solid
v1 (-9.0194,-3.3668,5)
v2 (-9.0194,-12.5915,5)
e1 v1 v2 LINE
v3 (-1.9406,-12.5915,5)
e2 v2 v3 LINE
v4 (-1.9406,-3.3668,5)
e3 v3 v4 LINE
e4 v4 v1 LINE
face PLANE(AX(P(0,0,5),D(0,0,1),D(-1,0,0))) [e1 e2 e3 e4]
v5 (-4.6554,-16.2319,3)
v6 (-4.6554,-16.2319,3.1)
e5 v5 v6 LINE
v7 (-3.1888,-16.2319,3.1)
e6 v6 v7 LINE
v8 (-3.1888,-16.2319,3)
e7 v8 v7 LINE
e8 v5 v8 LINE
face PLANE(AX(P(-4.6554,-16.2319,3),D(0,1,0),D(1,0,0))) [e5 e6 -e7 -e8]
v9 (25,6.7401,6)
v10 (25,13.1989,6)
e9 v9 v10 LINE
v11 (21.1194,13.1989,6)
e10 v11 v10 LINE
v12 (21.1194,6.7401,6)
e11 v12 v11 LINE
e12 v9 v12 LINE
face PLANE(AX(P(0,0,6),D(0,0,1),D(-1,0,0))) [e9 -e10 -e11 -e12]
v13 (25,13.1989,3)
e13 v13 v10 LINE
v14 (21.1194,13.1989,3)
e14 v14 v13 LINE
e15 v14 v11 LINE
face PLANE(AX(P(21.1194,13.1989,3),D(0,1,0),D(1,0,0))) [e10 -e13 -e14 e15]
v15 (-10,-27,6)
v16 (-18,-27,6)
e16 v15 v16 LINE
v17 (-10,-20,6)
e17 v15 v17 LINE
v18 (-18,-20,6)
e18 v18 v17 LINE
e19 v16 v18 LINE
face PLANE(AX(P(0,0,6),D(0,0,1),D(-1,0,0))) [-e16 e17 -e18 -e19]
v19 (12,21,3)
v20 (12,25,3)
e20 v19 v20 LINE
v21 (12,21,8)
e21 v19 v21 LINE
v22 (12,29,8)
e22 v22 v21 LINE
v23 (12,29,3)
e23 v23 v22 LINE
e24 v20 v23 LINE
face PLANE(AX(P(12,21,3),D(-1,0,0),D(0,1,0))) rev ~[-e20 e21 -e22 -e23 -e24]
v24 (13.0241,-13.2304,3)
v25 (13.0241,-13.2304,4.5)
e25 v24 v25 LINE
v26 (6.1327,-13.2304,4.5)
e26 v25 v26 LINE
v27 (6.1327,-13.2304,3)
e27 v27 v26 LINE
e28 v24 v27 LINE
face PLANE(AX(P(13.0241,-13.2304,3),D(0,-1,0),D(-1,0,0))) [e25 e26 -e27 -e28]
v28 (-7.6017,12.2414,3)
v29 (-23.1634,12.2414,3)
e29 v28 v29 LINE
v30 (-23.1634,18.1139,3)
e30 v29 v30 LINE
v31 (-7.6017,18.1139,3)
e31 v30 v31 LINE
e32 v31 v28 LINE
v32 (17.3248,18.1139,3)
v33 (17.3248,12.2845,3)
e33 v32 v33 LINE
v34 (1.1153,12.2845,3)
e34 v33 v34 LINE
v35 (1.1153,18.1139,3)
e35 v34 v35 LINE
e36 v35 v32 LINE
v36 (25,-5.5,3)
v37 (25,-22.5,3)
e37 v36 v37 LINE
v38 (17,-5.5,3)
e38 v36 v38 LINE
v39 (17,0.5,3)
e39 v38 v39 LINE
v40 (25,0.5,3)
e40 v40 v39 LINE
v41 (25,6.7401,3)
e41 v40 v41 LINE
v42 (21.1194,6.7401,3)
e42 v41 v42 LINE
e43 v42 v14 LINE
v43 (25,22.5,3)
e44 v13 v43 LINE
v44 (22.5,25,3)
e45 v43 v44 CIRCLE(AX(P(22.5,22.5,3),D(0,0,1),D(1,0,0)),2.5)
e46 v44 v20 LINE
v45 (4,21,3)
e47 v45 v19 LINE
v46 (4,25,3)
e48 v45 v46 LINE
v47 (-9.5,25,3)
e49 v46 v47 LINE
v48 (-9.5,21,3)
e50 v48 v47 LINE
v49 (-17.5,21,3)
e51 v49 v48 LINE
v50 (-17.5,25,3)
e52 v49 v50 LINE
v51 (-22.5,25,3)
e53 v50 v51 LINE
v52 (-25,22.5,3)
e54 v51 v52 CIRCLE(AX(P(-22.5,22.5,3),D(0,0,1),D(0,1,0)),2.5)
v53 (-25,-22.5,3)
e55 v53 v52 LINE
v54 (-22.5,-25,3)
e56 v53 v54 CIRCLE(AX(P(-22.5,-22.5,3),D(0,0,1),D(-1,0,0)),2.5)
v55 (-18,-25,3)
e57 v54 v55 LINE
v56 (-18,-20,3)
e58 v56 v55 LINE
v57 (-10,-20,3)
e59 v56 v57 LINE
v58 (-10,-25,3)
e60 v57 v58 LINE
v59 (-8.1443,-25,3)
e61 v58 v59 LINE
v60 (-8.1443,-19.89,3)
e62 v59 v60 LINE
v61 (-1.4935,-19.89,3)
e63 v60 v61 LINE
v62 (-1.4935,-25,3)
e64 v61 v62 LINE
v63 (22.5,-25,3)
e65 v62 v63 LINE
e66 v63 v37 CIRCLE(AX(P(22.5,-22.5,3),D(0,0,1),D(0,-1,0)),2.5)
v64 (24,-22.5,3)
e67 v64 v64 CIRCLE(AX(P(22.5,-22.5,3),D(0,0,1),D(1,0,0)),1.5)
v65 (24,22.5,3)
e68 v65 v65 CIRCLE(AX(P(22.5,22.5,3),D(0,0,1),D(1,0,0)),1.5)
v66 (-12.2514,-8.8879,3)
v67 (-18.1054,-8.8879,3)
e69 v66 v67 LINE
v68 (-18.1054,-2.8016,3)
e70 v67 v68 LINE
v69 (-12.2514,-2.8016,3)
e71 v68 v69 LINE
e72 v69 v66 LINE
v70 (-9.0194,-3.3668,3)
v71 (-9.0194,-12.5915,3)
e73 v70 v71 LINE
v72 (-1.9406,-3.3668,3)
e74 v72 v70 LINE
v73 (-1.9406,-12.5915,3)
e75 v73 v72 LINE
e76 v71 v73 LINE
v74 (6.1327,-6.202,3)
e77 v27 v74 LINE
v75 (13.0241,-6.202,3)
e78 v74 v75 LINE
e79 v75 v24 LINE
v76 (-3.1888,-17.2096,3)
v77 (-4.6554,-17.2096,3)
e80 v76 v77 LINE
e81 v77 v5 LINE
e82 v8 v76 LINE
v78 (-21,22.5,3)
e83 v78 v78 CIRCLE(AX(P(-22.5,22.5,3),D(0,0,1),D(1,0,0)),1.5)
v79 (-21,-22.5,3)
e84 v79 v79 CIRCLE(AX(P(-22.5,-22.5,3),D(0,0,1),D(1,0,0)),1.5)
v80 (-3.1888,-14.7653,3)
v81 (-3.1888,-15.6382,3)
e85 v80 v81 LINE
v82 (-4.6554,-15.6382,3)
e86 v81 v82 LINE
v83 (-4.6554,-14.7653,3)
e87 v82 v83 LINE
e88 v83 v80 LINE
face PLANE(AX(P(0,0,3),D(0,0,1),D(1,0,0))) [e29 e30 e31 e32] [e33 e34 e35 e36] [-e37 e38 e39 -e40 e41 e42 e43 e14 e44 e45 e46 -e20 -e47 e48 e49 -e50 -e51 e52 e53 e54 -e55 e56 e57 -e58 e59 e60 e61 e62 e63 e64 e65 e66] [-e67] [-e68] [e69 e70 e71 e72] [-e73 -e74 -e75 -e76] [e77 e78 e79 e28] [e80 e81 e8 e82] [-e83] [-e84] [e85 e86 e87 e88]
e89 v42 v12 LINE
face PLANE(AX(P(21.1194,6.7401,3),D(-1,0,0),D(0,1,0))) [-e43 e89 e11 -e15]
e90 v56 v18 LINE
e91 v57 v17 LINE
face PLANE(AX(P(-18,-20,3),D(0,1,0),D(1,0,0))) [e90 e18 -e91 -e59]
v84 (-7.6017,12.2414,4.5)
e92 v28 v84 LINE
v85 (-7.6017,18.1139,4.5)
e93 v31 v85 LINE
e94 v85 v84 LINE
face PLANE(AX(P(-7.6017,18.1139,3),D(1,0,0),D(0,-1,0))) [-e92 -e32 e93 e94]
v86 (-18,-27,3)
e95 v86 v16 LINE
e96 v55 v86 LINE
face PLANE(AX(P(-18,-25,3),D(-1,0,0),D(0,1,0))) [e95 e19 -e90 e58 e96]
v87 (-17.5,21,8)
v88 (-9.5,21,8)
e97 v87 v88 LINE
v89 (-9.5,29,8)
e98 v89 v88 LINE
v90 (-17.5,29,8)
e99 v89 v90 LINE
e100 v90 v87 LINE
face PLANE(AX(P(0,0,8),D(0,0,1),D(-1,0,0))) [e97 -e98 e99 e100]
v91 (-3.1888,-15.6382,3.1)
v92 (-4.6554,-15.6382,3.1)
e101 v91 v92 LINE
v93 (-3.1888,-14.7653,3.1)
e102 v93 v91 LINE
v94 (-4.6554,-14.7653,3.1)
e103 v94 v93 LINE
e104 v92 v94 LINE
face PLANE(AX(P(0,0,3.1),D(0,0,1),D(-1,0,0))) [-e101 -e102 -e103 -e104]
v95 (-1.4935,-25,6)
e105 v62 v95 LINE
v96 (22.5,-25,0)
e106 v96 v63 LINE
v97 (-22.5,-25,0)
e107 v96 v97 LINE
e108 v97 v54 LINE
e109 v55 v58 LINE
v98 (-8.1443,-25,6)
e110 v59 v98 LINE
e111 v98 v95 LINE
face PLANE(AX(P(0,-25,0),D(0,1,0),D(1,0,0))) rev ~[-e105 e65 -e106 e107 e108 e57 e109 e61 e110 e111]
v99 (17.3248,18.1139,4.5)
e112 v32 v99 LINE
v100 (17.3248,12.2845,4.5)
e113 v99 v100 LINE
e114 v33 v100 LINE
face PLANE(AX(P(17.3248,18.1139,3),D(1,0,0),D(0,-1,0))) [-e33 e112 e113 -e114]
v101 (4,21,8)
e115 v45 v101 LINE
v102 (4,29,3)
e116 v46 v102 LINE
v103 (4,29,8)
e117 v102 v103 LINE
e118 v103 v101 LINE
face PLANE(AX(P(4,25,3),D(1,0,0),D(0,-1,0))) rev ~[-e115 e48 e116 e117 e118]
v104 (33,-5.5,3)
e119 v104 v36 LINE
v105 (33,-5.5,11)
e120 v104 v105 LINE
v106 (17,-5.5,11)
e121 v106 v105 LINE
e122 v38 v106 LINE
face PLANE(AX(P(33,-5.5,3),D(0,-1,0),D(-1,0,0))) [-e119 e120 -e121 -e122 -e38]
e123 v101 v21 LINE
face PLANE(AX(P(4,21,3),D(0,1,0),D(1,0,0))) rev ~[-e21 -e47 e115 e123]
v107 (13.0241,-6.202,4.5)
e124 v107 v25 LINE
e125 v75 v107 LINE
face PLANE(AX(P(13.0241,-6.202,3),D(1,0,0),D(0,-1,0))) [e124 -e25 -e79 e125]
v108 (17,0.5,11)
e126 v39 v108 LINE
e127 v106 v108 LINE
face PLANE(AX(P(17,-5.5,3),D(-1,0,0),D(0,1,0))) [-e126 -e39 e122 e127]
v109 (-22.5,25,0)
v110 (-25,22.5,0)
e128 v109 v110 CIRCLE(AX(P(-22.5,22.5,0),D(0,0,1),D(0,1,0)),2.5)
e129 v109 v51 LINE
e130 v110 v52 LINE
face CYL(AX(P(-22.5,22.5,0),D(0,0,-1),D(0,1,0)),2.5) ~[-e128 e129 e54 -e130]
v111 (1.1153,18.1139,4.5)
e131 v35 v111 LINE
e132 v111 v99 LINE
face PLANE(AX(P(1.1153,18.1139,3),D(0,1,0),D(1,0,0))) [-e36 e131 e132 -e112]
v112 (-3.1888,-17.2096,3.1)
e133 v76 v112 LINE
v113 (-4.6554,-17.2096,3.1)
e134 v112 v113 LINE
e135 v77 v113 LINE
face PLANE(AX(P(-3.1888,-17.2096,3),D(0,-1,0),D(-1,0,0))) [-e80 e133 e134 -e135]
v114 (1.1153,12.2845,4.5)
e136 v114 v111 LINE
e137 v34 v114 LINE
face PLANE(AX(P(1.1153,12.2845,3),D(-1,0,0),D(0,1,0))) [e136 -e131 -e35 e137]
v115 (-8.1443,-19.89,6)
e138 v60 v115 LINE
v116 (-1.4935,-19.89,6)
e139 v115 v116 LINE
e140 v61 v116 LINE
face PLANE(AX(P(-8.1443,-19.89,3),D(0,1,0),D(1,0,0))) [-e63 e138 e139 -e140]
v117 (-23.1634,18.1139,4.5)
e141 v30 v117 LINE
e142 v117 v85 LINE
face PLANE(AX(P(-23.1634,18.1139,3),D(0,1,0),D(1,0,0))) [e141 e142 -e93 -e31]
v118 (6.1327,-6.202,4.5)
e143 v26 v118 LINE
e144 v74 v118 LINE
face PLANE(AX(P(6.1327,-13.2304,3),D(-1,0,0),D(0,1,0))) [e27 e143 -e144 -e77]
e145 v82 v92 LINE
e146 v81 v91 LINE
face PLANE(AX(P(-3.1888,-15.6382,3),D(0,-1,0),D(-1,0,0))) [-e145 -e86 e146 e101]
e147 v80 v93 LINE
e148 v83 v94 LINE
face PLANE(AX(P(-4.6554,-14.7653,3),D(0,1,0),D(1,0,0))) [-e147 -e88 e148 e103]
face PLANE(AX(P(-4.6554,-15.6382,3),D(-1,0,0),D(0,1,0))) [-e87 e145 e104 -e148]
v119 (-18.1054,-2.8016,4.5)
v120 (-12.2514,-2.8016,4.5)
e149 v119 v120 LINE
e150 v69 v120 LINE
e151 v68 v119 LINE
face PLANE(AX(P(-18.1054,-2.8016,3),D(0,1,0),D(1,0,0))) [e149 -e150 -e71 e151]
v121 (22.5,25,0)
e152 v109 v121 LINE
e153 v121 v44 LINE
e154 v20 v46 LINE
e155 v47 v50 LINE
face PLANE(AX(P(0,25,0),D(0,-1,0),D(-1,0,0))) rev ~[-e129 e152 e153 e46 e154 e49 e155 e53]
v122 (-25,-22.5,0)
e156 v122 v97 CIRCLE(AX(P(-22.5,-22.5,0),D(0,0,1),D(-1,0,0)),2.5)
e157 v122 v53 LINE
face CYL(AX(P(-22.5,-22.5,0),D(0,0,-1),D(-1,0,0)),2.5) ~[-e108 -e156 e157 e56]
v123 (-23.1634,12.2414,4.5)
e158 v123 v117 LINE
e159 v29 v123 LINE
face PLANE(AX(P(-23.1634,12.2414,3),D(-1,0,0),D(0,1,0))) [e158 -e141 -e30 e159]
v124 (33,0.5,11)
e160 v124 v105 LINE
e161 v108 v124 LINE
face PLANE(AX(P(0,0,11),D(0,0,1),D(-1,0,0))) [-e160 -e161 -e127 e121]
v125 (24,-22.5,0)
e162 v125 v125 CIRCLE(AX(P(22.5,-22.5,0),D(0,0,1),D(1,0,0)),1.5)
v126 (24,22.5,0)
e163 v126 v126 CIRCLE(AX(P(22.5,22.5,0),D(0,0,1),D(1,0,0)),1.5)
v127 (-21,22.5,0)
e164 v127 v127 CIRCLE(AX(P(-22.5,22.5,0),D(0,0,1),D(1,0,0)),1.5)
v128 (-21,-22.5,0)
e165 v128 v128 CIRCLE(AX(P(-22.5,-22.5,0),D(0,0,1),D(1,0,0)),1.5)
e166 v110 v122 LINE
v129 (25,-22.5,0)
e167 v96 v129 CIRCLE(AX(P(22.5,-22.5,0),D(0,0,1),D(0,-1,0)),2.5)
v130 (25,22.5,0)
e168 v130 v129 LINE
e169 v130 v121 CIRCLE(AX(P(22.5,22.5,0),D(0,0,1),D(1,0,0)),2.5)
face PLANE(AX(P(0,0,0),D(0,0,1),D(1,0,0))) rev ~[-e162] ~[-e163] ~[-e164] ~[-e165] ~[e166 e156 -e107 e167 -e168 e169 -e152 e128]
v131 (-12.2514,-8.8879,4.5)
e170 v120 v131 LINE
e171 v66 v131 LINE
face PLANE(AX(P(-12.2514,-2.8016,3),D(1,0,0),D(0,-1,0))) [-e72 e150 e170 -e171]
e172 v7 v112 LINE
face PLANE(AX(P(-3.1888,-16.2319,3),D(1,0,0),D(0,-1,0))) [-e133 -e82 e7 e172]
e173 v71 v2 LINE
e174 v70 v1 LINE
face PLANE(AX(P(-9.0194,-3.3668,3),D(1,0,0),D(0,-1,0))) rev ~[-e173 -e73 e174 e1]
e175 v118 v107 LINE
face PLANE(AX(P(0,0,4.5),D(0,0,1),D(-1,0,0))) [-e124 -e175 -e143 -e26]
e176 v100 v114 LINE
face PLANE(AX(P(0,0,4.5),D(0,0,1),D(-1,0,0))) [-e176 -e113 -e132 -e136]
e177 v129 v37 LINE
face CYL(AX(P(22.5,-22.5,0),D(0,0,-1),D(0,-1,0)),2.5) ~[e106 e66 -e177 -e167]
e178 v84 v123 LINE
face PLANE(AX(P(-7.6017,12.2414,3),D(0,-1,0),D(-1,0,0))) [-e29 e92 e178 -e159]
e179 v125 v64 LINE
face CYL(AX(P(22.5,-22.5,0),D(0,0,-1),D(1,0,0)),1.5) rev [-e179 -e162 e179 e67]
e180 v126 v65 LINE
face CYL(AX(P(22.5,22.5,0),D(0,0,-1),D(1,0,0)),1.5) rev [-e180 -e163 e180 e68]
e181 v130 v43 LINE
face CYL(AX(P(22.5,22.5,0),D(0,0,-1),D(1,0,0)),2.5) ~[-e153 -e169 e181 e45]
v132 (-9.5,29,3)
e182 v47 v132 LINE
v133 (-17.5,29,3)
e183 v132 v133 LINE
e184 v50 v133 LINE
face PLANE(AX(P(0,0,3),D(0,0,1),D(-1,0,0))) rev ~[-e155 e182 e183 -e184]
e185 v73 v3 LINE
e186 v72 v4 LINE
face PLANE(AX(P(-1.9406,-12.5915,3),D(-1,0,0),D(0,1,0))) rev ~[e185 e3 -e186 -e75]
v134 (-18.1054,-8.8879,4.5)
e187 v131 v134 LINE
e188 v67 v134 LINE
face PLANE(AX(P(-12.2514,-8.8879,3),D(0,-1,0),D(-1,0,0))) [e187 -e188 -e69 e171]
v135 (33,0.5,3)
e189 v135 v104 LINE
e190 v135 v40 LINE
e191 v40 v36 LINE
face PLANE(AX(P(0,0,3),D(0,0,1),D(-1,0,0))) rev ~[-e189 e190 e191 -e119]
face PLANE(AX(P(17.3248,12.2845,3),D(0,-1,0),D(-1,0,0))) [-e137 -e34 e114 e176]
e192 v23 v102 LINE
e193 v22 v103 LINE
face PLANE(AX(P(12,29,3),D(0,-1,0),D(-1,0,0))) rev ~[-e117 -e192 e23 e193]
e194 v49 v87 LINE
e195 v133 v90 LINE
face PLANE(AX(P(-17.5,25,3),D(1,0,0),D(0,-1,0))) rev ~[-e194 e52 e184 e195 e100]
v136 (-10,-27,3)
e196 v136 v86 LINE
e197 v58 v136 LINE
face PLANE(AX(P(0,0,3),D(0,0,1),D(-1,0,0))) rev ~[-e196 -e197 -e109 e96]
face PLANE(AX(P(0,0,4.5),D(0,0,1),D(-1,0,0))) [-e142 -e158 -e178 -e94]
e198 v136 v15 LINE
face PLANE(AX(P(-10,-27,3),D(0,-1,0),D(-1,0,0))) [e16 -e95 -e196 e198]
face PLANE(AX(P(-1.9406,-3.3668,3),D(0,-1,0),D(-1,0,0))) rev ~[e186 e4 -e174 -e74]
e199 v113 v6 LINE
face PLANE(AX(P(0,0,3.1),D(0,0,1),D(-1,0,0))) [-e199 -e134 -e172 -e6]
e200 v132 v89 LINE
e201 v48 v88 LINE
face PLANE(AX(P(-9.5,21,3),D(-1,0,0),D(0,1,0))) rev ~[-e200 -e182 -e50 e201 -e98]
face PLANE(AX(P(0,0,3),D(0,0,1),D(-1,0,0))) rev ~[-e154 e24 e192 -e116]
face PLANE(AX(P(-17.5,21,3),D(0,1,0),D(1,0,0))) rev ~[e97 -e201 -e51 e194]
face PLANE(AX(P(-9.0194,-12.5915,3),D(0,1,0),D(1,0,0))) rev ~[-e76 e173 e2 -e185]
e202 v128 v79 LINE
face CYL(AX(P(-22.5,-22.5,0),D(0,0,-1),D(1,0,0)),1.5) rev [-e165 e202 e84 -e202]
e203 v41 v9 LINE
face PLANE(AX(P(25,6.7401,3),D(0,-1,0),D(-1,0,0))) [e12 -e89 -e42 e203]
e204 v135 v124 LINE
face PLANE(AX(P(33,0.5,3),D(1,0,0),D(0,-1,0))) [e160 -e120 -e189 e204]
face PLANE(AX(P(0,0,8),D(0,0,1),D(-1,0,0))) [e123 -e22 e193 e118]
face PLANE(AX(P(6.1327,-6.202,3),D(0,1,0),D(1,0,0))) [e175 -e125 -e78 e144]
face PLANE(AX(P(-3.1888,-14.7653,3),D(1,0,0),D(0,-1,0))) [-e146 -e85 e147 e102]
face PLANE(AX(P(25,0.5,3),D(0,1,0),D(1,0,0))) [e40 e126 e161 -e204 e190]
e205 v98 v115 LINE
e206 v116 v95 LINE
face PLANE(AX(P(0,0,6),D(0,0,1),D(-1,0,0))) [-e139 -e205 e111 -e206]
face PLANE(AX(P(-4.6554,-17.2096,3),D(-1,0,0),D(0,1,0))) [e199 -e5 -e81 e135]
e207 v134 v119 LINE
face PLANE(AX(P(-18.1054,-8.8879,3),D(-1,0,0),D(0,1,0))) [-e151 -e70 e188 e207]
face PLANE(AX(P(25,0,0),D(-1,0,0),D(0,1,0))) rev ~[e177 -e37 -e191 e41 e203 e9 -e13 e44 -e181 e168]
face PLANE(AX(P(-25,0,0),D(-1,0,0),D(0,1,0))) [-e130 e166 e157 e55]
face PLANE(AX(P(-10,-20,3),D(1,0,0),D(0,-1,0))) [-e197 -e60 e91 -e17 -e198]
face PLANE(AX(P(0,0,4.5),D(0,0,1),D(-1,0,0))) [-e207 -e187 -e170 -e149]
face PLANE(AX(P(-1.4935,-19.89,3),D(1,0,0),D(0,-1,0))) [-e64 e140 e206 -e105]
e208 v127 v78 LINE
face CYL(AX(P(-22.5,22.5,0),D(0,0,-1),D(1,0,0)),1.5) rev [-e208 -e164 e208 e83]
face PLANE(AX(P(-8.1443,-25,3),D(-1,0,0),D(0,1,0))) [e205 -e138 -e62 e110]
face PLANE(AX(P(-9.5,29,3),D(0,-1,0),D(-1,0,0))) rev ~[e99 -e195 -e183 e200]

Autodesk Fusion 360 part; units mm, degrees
sketch "Sketch1" plane through (0, 0, 0) normal (0, 0, 1) x (1, 0, 0)
  line L0 (-25, 25) -> (25, 25) construction
  line L1 (25, 25) -> (25, -25) construction
  line L2 (25, -25) -> (-25, -25) construction
  line L3 (-25, -25) -> (-25, 25) construction
  line L4 (-25, 25) -> (25, -25) construction
  line L5 (25, 25) -> (-25, -25) construction
  line L6 (24, 24) -> (-24, 24) construction
  line L7 (-24, 24) -> (-24, -24) construction
  line L8 (-24, -24) -> (24, -24) construction
  line L9 (24, -24) -> (24, 24) construction
  line L10 (24, 24) -> (-24, -24) construction
  line L11 (-24, 24) -> (24, -24) construction
  circle A0 centre (-22.5, 22.5) radius 1.5
  line L12 (0, 24) -> (0, -24)
  line L13 (-24, 0) -> (24, 0)
  circle A1 centre (-22.5, 22.5) radius 2.5 construction
  line L14 (-25, 0) -> (-25, 22.5)
  line L15 (0, 25) -> (-22.5, 25)
  arc A2 (-22.5, 25) -> (-25, 22.5) centre (-22.5, 22.5) ccw
  circle A3 centre (22.5, 22.5) radius 1.5
  arc A4 (25, 22.5) -> (22.5, 25) centre (22.5, 22.5) ccw
  line L16 (25, 0) -> (25, 22.5)
  line L17 (0, 25) -> (22.5, 25)
  circle A5 centre (-22.5, -22.5) radius 1.5
  arc A6 (-25, -22.5) -> (-22.5, -25) centre (-22.5, -22.5) ccw
  arc A7 (22.5, -25) -> (25, -22.5) centre (22.5, -22.5) ccw
  line L18 (25, 0) -> (25, -22.5)
  line L19 (0, -25) -> (-22.5, -25)
  line L20 (0, -25) -> (22.5, -25)
  line L21 (-25, 0) -> (-25, -22.5)
  circle A8 centre (22.5, -22.5) radius 1.5
  dimension "d1" = 50
  dimension "d2" = 50
  dimension "d3" = 48
  dimension "d4" = 48
  dimension "d5" = 1.5
extrude "Extrude1" add sketch "Sketch1" along normal blind 3
sketch "Sketch2" plane through (0, 0, 3) normal (0, 0, 1) x (-1, 0, 0)
  circle A0 centre (22.5, -22.5) radius 1.5
  circle A1 centre (-22.5, -22.5) radius 1.5
  circle A2 centre (-22.5, 22.5) radius 1.5
  circle A3 centre (22.5, 22.5) radius 1.5
  line L0 (-22.5, -25) -> (22.5, -25)
  arc A4 (22.5, -25) -> (25, -22.5) centre (22.5, -22.5) ccw
  line L1 (25, -22.5) -> (25, 22.5)
  arc A5 (25, 22.5) -> (22.5, 25) centre (22.5, 22.5) ccw
  line L2 (22.5, 25) -> (-22.5, 25)
  arc A6 (-22.5, 25) -> (-25, 22.5) centre (-22.5, 22.5) ccw
  line L3 (-25, 22.5) -> (-25, -22.5)
  arc A7 (-25, -22.5) -> (-22.5, -25) centre (-22.5, -22.5) ccw
  line L4 (18, 20) -> (10, 20)
  line L5 (10, 20) -> (10, 27)
  line L6 (10, 27) -> (18, 27)
  line L7 (18, 27) -> (18, 20)
  line L8 (8.1443, 19.89) -> (1.4935, 19.89)
  line L9 (1.4935, 19.89) -> (1.4935, 25)
  line L10 (1.4935, 25) -> (8.1443, 25)
  line L11 (8.1443, 25) -> (8.1443, 19.89)
  line L12 (-6.1327, 6.202) -> (-13.0241, 6.202)
  line L13 (-13.0241, 6.202) -> (-13.0241, 13.2304)
  line L14 (-13.0241, 13.2304) -> (-6.1327, 13.2304)
  line L15 (-6.1327, 13.2304) -> (-6.1327, 6.202)
  line L16 (9.0194, 12.5915) -> (1.9406, 12.5915)
  line L17 (1.9406, 12.5915) -> (1.9406, 3.3668)
  line L18 (1.9406, 3.3668) -> (9.0194, 3.3668)
  line L19 (9.0194, 3.3668) -> (9.0194, 12.5915)
  line L20 (18.1054, 2.8016) -> (12.2514, 2.8016)
  line L21 (12.2514, 2.8016) -> (12.2514, 8.8879)
  line L22 (12.2514, 8.8879) -> (18.1054, 8.8879)
  line L23 (18.1054, 8.8879) -> (18.1054, 2.8016)
  line L24 (23.1634, -18.1139) -> (7.6017, -18.1139)
  line L25 (7.6017, -18.1139) -> (7.6017, -12.2414)
  line L26 (7.6017, -12.2414) -> (23.1634, -12.2414)
  line L27 (23.1634, -12.2414) -> (23.1634, -18.1139)
  line L28 (-1.1153, -18.1139) -> (-17.3248, -18.1139)
  line L29 (-17.3248, -18.1139) -> (-17.3248, -12.2845)
  line L30 (-17.3248, -12.2845) -> (-1.1153, -12.2845)
  line L31 (-1.1153, -12.2845) -> (-1.1153, -18.1139)
  line L32 (17.5, -21) -> (9.5, -21)
  line L33 (9.5, -21) -> (9.5, -29)
  line L34 (9.5, -29) -> (17.5, -29)
  line L35 (17.5, -29) -> (17.5, -21)
  line L36 (-4, -21) -> (-12, -21)
  line L37 (-12, -21) -> (-12, -29)
  line L38 (-12, -29) -> (-4, -29)
  line L39 (-4, -29) -> (-4, -21)
  line L40 (-21.1194, -13.1989) -> (-25, -13.1989)
  line L41 (-25, -13.1989) -> (-25, -6.7401)
  line L42 (-25, -6.7401) -> (-21.1194, -6.7401)
  line L43 (-21.1194, -6.7401) -> (-21.1194, -13.1989)
  line L44 (-17, -0.5) -> (-33, -0.5)
  line L45 (-33, -0.5) -> (-33, 5.5)
  line L46 (-33, 5.5) -> (-17, 5.5)
  line L47 (-17, 5.5) -> (-17, -0.5)
  dimension "d8" = 2
  dimension "d9" = 7
  dimension "d10" = 8
  dimension "d11" = 7
  dimension "d12" = 4
  dimension "d13" = 8
  dimension "d14" = 8
  dimension "d15" = 8
  dimension "d16" = 7.5
  dimension "d17" = 13
  dimension "d18" = 8
  dimension "d19" = 6
  dimension "d20" = 16
  dimension "d21" = 19.5
extrude "Extrude2" add sketch "Sketch2" along normal blind 8 contours L3 L44 L45 L46 | L3 L44 L46 L47
extrude "Extrude3" add sketch "Sketch2" along normal blind 5 contours L0 L36 L37 L39 | L0 L37 L38 L39 | L0 L32 L33 L35 | L0 L33 L34 L35
extrude "Extrude4" add sketch "Sketch2" along normal blind 3 contours L3 L40 L41 L42 L43 | L2 L8 L9 L10 L11 | L2 L4 L5 L7 | L2 L5 L6 L7
extrude "Extrude5" add sketch "Sketch2" along normal blind 2 contours L16 L17 L18 L19
extrude "Extrude6" add sketch "Sketch2" along normal blind 1.5 contours L12 L13 L14 L15 | L20 L21 L22 L23 | L24 L25 L26 L27 | L28 L29 L30 L31
sketch "Sketch3" plane through (0, 0, 3) normal (0, 0, 1) x (-1, 0, 0)
  line L0 (-1.1153, -12.2845) -> (-1.1153, -18.1139)
  line L1 (-1.1153, -18.1139) -> (-17.3248, -18.1139)
  line L2 (-17.3248, -18.1139) -> (-17.3248, -12.2845)
  line L3 (-17.3248, -12.2845) -> (-1.1153, -12.2845)
  line L4 (-6.1327, 13.2304) -> (-6.1327, 6.202)
  line L5 (-6.1327, 6.202) -> (-13.0241, 6.202)
  line L6 (-13.0241, 6.202) -> (-13.0241, 13.2304)
  line L7 (-13.0241, 13.2304) -> (-6.1327, 13.2304)
  line L8 (23.1634, -12.2414) -> (23.1634, -18.1139)
  line L9 (23.1634, -18.1139) -> (7.6017, -18.1139)
  line L10 (7.6017, -18.1139) -> (7.6017, -12.2414)
  line L11 (7.6017, -12.2414) -> (23.1634, -12.2414)
  line L12 (18.1054, 8.8879) -> (18.1054, 2.8016)
  line L13 (18.1054, 2.8016) -> (12.2514, 2.8016)
  line L14 (12.2514, 2.8016) -> (12.2514, 8.8879)
  line L15 (12.2514, 8.8879) -> (18.1054, 8.8879)
  line L16 (9.0194, 3.3668) -> (1.9406, 3.3668)
  line L17 (1.9406, 3.3668) -> (1.9406, 12.5915)
  line L18 (1.9406, 12.5915) -> (9.0194, 12.5915)
  line L19 (9.0194, 12.5915) -> (9.0194, 3.3668)
  line L20 (-21.1194, -13.1989) -> (-25, -13.1989)
  line L21 (-25, -13.1989) -> (-25, -22.5)
  arc A0 (-25, -22.5) -> (-22.5, -25) centre (-22.5, -22.5) ccw
  line L22 (-22.5, -25) -> (-12, -25)
  line L23 (-12, -25) -> (-12, -21)
  line L24 (-12, -21) -> (-4, -21)
  line L25 (-4, -21) -> (-4, -25)
  line L26 (-4, -25) -> (9.5, -25)
  line L27 (9.5, -25) -> (9.5, -21)
  line L28 (9.5, -21) -> (17.5, -21)
  line L29 (17.5, -21) -> (17.5, -25)
  line L30 (17.5, -25) -> (22.5, -25)
  arc A1 (22.5, -25) -> (25, -22.5) centre (22.5, -22.5) ccw
  line L31 (25, -22.5) -> (25, 22.5)
  arc A2 (25, 22.5) -> (22.5, 25) centre (22.5, 22.5) ccw
  line L32 (22.5, 25) -> (18, 25)
  line L33 (18, 25) -> (18, 20)
  line L34 (18, 20) -> (10, 20)
  line L35 (10, 20) -> (10, 25)
  line L36 (10, 25) -> (8.1443, 25)
  line L37 (8.1443, 25) -> (8.1443, 19.89)
  line L38 (8.1443, 19.89) -> (1.4935, 19.89)
  line L39 (1.4935, 19.89) -> (1.4935, 25)
  line L40 (1.4935, 25) -> (-22.5, 25)
  arc A3 (-22.5, 25) -> (-25, 22.5) centre (-22.5, 22.5) ccw
  line L41 (-25, 22.5) -> (-25, 5.5)
  line L42 (-25, 5.5) -> (-17, 5.5)
  line L43 (-17, 5.5) -> (-17, -0.5)
  line L44 (-17, -0.5) -> (-25, -0.5)
  line L45 (-25, -0.5) -> (-25, -6.7401)
  line L46 (-25, -6.7401) -> (-21.1194, -6.7401)
  line L47 (-21.1194, -6.7401) -> (-21.1194, -13.1989)
  circle A4 centre (22.5, -22.5) radius 1.5
  circle A5 centre (-22.5, -22.5) radius 1.5
  circle A6 centre (-22.5, 22.5) radius 1.5
  circle A7 centre (22.5, 22.5) radius 1.5
  line L48 (4.6554, 14.7653) -> (3.1888, 14.7653)
  line L49 (3.1888, 14.7653) -> (3.1888, 15.6382)
  line L50 (3.1888, 15.6382) -> (4.6554, 15.6382)
  line L51 (4.6554, 15.6382) -> (4.6554, 14.7653)
  line L52 (4.6554, 16.2319) -> (3.1888, 16.2319)
  line L53 (3.1888, 16.2319) -> (3.1888, 17.2096)
  line L54 (3.1888, 17.2096) -> (4.6554, 17.2096)
  line L55 (4.6554, 17.2096) -> (4.6554, 16.2319)
extrude "Extrude7" add sketch "Sketch3" along normal blind 0.1 contours L48 L49 L50 L51 | L52 L53 L54 L55
equation "d15 = d14"
